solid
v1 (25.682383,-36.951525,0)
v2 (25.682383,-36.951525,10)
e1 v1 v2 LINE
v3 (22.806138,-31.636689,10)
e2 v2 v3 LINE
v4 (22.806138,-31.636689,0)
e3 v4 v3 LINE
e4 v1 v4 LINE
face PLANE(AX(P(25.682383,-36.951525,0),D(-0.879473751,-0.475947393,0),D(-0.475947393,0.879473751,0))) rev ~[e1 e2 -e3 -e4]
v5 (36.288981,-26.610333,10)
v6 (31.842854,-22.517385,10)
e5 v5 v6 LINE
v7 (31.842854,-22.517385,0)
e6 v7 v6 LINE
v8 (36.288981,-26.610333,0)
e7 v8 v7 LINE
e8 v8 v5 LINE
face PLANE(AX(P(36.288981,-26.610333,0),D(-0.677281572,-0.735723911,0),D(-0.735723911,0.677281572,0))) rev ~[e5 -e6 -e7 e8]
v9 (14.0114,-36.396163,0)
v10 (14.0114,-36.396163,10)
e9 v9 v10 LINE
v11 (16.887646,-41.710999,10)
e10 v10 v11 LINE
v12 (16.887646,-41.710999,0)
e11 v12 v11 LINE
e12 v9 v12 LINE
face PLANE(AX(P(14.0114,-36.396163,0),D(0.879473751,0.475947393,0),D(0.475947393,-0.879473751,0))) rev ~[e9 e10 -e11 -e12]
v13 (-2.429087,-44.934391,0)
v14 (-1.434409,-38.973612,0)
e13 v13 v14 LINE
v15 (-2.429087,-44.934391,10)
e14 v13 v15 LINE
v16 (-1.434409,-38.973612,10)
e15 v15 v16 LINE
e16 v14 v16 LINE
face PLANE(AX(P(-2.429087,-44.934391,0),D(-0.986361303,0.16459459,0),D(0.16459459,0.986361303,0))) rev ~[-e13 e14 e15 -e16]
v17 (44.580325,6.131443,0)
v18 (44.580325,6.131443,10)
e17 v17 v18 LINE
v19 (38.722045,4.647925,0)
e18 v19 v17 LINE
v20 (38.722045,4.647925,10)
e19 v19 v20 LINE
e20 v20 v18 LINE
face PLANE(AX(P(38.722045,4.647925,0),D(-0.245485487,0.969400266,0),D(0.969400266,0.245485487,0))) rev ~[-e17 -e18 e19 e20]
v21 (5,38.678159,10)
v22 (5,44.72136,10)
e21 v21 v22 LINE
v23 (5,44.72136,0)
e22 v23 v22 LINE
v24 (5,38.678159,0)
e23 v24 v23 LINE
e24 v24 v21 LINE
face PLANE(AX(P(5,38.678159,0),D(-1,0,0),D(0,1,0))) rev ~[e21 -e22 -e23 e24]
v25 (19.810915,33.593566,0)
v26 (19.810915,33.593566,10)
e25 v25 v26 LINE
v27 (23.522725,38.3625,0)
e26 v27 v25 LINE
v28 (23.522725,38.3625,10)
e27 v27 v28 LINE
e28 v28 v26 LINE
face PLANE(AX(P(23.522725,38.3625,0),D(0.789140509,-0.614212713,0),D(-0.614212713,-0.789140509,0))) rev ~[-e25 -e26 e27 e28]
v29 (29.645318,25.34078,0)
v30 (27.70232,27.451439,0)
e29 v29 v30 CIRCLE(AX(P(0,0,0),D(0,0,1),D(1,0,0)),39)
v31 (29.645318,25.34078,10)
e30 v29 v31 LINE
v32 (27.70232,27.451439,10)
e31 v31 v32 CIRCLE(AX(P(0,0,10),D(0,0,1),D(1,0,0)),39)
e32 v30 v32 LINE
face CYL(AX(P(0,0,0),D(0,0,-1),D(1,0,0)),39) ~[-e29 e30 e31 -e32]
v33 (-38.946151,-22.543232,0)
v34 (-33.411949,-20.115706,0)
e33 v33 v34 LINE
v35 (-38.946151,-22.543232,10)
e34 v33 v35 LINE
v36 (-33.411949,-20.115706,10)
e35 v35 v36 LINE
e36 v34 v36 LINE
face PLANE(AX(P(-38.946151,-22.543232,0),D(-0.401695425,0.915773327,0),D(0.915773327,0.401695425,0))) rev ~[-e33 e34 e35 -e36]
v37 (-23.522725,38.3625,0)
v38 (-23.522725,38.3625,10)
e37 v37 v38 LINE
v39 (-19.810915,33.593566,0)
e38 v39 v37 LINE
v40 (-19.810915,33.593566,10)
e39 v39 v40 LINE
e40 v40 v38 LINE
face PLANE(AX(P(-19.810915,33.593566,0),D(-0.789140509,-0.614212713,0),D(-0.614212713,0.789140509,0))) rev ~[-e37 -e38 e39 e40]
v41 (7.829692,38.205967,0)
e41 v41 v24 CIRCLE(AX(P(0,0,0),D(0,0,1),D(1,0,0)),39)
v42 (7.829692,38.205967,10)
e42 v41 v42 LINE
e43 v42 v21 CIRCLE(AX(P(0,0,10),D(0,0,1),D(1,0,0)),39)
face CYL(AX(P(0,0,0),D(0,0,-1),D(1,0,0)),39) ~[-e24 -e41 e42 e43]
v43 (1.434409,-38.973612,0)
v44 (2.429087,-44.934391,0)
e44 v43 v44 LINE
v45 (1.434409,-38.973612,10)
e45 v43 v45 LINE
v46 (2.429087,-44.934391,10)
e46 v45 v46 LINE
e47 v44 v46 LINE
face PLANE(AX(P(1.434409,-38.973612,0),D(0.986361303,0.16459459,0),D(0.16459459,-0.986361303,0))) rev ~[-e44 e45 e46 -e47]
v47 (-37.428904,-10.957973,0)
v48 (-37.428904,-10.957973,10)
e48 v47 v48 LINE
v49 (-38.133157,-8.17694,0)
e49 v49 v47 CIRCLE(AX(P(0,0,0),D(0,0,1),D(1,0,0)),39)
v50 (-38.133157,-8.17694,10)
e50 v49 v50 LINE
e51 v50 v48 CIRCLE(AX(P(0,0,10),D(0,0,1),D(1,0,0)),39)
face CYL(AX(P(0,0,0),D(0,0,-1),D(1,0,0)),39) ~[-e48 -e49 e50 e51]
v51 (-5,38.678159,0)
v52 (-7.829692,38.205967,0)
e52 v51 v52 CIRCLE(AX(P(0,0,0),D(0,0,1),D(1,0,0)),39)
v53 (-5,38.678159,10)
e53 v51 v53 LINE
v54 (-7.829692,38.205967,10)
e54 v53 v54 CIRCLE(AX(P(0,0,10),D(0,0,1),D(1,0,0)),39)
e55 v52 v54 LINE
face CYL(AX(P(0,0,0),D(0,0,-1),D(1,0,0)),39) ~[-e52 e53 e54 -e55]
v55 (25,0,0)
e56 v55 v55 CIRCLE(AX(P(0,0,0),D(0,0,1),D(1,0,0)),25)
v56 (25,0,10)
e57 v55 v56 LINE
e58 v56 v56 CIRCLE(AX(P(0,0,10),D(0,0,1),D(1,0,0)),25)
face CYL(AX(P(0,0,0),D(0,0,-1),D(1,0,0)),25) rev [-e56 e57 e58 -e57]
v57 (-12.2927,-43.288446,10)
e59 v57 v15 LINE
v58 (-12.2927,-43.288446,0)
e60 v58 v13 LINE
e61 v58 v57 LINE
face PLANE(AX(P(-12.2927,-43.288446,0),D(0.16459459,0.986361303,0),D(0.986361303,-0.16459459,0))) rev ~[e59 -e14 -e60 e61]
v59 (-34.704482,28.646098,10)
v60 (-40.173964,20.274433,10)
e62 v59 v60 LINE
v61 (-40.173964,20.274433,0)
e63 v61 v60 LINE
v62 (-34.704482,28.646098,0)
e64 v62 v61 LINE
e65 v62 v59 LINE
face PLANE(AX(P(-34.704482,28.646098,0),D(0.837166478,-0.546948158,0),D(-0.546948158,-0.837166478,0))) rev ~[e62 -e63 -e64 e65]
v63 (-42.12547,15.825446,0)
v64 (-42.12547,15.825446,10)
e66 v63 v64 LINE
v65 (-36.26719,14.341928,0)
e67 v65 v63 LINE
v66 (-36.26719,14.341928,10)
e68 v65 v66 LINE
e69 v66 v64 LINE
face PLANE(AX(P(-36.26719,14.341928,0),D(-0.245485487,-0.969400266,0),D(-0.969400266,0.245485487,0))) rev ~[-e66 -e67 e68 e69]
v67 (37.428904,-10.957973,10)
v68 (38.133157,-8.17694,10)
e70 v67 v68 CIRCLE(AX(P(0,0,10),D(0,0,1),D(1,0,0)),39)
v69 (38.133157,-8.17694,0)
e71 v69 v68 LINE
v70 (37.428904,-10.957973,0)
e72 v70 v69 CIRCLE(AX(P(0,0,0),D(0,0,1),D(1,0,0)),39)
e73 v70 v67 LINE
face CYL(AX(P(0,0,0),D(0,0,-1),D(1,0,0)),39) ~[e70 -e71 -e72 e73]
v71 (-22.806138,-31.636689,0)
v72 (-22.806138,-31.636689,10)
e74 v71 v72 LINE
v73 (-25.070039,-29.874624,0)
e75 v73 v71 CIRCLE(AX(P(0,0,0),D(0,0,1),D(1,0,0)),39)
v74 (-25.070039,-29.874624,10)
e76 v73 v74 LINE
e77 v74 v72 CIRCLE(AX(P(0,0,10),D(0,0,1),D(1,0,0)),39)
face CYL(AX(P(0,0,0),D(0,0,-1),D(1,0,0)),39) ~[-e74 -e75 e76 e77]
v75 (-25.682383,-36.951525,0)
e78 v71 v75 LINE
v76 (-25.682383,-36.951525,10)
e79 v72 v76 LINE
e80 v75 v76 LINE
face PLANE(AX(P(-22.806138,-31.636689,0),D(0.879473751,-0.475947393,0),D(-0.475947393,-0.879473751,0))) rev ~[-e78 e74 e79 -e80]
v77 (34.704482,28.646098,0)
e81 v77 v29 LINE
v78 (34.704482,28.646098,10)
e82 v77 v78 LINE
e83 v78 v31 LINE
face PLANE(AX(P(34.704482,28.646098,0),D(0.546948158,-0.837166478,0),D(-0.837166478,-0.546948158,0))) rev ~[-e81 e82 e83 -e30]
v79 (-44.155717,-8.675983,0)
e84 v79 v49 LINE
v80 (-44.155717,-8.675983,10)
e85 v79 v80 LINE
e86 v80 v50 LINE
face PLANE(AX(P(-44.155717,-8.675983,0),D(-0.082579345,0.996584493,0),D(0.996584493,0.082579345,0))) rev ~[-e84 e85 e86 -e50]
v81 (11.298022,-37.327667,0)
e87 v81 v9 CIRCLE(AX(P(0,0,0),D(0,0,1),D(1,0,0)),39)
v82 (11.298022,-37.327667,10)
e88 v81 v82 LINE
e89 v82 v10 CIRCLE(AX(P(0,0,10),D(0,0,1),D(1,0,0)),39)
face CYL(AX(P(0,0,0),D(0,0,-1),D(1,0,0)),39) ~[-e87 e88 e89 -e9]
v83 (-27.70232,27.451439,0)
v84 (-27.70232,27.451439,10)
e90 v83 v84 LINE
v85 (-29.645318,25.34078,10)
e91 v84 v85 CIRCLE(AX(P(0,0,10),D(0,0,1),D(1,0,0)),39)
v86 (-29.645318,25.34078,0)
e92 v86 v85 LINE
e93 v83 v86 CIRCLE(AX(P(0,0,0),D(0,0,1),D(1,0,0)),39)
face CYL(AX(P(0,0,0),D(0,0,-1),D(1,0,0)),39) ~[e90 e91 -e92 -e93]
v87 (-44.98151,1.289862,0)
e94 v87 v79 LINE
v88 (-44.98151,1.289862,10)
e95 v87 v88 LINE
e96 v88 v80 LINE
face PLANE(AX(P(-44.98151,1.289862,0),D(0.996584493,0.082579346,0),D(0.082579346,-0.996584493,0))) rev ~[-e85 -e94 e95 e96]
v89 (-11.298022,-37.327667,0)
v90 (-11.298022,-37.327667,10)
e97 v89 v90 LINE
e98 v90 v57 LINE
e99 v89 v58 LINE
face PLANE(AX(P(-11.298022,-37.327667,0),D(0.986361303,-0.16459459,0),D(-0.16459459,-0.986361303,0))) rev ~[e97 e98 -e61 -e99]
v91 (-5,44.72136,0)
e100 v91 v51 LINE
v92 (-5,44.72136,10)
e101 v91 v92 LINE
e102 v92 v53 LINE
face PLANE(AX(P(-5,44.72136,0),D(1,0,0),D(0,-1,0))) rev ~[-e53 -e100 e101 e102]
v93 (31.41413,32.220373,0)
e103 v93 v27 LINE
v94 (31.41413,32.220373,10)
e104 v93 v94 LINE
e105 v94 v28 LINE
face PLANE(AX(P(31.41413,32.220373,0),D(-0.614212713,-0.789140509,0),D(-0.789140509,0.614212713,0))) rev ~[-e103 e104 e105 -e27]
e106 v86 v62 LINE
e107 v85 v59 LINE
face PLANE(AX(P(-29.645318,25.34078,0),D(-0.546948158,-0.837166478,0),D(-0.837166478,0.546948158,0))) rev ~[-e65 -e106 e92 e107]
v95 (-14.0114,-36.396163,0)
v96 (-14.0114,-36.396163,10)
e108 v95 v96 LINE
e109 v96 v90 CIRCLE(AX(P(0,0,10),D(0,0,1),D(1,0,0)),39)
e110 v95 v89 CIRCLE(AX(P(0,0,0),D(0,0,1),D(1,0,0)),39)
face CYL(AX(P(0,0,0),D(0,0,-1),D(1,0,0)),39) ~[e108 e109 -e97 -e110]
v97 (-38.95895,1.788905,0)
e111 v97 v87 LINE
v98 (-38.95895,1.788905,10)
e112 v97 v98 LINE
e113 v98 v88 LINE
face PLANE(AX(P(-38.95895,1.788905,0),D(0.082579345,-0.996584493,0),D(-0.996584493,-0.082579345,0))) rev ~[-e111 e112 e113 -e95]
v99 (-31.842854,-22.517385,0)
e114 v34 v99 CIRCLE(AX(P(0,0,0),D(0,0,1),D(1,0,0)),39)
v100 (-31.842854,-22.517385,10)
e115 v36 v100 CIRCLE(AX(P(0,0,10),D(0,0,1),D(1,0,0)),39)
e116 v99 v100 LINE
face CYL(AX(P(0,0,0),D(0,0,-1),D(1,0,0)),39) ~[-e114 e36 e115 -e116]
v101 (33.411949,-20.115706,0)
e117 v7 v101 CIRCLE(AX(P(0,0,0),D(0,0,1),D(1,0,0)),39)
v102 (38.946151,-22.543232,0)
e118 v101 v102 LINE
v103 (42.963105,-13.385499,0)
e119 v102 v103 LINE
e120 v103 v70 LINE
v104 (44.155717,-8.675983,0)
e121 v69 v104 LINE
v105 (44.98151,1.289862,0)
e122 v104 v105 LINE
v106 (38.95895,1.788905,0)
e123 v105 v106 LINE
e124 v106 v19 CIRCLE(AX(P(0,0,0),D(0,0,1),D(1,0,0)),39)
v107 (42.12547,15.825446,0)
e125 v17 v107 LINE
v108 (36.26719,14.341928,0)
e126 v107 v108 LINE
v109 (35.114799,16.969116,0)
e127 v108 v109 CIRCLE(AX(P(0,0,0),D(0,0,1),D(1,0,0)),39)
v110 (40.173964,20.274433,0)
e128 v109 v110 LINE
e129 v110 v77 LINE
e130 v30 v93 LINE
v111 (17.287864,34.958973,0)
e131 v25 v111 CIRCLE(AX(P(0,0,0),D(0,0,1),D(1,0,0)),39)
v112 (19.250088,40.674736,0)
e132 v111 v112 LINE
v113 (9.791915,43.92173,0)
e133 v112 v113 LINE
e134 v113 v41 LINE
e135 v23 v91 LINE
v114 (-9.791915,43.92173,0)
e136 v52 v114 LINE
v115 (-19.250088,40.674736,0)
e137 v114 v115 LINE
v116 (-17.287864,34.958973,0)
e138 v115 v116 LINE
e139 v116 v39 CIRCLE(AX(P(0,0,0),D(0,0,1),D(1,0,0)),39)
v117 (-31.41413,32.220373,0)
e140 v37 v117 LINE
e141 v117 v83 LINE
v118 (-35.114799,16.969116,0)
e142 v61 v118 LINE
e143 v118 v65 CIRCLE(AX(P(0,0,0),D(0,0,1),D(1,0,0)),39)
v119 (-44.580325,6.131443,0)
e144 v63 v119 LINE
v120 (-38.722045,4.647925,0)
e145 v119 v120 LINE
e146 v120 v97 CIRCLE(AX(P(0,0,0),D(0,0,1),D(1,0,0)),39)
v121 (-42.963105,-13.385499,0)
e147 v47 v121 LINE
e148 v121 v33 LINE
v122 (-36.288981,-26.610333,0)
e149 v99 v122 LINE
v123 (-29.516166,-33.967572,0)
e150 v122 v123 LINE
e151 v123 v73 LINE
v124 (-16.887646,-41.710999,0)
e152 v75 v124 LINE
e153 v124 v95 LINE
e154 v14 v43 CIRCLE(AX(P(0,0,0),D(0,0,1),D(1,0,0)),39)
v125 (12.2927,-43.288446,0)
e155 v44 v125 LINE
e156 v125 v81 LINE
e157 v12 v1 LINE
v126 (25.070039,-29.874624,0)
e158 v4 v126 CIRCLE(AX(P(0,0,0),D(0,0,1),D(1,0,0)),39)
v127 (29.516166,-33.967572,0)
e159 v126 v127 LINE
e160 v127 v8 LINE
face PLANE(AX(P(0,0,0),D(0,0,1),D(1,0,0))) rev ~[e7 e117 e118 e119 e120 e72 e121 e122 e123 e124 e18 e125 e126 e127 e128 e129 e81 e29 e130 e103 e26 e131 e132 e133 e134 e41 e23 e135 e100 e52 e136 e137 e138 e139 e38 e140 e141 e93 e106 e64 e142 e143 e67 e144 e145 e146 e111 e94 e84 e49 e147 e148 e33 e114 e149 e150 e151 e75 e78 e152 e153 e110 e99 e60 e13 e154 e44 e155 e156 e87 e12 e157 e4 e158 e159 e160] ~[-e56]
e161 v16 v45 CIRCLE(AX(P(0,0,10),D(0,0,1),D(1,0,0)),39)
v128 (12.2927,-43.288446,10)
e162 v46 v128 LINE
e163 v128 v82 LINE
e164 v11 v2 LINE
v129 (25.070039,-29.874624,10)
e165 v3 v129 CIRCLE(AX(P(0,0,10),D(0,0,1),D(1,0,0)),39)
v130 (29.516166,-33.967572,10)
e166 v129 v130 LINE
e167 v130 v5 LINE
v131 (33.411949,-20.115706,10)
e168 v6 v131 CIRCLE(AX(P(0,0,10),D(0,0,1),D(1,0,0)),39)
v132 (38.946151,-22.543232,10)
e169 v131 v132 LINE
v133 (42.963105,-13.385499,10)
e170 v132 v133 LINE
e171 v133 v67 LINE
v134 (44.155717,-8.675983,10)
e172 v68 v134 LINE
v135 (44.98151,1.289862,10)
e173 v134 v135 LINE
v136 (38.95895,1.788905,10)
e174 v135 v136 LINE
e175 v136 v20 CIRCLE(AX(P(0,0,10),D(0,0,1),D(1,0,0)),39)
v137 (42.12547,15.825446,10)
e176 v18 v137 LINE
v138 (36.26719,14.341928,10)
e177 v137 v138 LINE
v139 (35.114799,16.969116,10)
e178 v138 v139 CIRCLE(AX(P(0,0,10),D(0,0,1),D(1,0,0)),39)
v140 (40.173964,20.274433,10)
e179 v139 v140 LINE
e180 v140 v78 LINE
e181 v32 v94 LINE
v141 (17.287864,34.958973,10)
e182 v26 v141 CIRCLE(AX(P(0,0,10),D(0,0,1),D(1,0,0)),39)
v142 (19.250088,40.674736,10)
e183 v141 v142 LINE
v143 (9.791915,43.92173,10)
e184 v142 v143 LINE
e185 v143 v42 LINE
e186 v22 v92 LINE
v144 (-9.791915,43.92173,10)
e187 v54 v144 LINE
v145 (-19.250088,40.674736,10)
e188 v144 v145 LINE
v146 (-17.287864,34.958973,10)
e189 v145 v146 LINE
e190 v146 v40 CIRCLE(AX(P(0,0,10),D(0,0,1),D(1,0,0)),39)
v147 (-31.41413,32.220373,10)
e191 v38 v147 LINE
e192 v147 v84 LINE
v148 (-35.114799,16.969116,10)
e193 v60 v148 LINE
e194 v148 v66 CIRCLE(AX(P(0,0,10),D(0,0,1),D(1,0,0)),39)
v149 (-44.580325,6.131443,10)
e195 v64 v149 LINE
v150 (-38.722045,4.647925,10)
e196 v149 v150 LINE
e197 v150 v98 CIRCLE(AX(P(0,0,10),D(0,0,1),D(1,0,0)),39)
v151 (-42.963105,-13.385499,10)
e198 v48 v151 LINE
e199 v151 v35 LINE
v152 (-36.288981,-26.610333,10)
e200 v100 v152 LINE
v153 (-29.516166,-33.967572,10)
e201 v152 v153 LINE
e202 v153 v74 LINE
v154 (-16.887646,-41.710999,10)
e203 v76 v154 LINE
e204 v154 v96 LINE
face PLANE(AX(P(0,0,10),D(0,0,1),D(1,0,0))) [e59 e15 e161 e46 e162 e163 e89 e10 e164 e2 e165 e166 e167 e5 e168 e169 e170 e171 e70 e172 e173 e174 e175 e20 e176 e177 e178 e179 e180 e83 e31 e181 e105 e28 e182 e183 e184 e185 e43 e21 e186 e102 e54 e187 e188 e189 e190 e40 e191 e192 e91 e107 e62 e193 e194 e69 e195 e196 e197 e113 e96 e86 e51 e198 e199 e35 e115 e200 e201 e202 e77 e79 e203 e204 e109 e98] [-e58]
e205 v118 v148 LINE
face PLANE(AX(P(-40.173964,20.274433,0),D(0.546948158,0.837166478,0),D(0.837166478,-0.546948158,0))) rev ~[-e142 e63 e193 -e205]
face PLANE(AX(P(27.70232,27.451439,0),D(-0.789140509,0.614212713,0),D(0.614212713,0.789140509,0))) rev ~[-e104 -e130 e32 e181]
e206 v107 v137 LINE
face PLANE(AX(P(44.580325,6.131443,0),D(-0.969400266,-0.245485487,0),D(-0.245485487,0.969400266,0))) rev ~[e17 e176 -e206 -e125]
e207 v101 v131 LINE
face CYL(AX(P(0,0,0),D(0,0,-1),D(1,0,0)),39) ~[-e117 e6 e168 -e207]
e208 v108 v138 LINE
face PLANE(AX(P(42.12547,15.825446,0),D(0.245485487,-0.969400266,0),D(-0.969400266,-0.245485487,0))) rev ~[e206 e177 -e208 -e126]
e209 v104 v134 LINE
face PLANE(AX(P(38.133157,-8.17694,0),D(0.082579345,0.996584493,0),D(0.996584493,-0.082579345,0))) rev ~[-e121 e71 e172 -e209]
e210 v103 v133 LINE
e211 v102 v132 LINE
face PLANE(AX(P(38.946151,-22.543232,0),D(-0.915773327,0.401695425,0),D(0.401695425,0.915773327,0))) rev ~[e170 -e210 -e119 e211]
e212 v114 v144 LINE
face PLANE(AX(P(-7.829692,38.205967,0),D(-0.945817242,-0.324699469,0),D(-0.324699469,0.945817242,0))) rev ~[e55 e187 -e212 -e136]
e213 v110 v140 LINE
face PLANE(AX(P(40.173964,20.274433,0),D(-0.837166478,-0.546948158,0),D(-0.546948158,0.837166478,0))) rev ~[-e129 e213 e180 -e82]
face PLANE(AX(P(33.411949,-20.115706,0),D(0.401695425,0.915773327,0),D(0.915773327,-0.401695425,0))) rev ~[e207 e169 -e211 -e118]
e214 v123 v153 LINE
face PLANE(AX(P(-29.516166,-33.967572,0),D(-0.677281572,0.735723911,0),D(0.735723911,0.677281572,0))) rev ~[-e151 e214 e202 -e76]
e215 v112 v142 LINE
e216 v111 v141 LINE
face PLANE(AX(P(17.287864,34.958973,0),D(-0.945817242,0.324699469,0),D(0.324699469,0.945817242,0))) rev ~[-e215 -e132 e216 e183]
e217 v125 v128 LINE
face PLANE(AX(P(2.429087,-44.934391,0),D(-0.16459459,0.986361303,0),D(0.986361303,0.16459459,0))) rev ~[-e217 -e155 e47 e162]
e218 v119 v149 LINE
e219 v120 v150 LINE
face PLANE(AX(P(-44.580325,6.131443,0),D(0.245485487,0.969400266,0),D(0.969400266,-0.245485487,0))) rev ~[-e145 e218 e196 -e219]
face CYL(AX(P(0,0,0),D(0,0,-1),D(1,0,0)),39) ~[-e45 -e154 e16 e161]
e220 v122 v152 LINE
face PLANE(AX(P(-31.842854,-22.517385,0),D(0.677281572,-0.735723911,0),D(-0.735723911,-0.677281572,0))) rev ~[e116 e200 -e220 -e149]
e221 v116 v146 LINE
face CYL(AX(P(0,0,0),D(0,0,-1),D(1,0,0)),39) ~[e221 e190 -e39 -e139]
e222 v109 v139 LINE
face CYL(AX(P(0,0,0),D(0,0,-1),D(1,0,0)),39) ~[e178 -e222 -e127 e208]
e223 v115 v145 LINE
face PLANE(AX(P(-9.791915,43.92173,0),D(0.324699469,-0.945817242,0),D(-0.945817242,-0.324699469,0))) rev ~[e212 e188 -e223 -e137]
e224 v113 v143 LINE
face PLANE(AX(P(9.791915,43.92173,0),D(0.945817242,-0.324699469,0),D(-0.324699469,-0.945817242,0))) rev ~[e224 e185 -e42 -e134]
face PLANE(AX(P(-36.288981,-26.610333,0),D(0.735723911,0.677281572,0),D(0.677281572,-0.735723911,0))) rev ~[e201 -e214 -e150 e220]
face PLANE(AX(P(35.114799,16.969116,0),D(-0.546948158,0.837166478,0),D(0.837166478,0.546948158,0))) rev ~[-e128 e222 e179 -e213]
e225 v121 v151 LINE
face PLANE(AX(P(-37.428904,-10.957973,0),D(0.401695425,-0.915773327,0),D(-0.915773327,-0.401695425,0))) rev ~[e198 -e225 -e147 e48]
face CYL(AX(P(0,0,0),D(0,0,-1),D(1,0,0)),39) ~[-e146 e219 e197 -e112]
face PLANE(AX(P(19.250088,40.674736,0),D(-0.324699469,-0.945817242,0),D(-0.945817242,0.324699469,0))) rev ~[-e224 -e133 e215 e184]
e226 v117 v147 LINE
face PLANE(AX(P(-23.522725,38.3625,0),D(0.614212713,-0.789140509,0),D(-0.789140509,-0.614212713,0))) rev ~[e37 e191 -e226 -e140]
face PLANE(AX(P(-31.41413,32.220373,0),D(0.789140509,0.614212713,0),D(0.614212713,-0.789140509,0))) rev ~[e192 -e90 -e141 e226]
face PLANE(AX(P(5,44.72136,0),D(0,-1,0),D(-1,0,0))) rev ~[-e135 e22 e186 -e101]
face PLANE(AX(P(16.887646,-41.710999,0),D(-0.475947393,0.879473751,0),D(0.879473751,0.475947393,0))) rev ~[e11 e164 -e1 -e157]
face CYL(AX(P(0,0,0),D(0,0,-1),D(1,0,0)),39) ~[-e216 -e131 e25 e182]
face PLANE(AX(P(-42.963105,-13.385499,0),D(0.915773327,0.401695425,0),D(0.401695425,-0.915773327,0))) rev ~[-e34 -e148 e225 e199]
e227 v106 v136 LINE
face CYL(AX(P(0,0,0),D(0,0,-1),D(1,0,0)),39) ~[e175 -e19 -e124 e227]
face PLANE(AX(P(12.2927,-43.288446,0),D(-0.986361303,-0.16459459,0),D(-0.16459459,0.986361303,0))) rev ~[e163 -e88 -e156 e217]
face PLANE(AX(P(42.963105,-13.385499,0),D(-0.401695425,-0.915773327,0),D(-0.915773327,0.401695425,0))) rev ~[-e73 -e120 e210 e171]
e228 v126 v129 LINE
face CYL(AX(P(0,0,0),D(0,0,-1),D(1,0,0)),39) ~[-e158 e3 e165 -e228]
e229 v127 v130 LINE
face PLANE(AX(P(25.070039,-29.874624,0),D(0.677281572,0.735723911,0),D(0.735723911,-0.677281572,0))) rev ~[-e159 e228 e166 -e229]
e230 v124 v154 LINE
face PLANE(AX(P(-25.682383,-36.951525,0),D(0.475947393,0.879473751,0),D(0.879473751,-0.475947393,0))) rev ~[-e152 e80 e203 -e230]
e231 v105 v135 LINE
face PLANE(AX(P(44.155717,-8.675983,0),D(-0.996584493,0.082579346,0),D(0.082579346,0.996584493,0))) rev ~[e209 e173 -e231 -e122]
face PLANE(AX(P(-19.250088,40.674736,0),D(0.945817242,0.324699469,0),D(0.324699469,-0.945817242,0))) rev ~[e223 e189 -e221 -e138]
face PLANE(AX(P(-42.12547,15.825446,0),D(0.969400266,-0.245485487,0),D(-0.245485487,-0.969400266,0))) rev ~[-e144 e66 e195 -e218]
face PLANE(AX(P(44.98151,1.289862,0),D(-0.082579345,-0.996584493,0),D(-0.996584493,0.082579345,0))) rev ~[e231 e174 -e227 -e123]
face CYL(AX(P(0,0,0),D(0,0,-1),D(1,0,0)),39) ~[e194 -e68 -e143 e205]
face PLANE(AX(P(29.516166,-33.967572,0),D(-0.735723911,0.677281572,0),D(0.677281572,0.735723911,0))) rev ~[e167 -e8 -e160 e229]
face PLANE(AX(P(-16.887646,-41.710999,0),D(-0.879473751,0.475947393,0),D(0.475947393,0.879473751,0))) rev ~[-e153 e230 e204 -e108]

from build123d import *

# Parameters (mm, degrees)
SKETCH1_R           = 39
SKETCH1_R_2         = 25
BOSS_EXTRUDE1_DEPTH = 10


with BuildPart() as part:
    # Sketch1 → Boss-Extrude1 (new body)
    # profile 1 of 20: a face of its own
    with BuildSketch(Plane.XY):
        Circle(SKETCH1_R)
        Circle(SKETCH1_R_2, mode=Mode.SUBTRACT)
    # profile 2 of 20: a face of its own
    with BuildSketch(Plane.XY):
        with BuildLine():
            ThreePointArc((-38.722045261, 4.647925426), (-37.806610372, 9.573933998), (-36.26719039, 14.341928085))
            Line((-36.26719039, 14.341928085), (-42.125470405, 15.825446064))
            Line((-42.125470405, 15.825446064), (-44.580325277, 6.131443405))
            Line((-44.580325277, 6.131443405), (-38.722045261, 4.647925426))
        make_face()
    # profile 3 of 20: a face of its own
    with BuildSketch(Plane.XY):
        with BuildLine():
            ThreePointArc((-35.114799123, 16.969115549), (-32.649492652, 21.330978167), (-29.645317542, 25.340780332))
            Line((-29.645317542, 25.340780332), (-34.704482287, 28.646097626))
            Line((-34.704482287, 28.646097626), (-40.173963868, 20.274432843))
            Line((-40.173963868, 20.274432843), (-35.114799123, 16.969115549))
        make_face()
    # profile 4 of 20: a face of its own
    with BuildSketch(Plane.XY):
        with BuildLine():
            ThreePointArc((-27.702319638, 27.451438699), (-23.954295795, 30.776479866), (-19.810914544, 33.593565826))
            Line((-19.810914544, 33.593565826), (-23.522725017, 38.36250002))
            Line((-23.522725017, 38.36250002), (-31.414130111, 32.220372893))
            Line((-31.414130111, 32.220372893), (-27.702319638, 27.451438699))
        make_face()
    # profile 5 of 20: a face of its own
    with BuildSketch(Plane.XY):
        with BuildLine():
            ThreePointArc((-17.287863974, 34.958972514), (-12.663279299, 36.886872426), (-7.829691557, 38.205967206))
            Line((-7.829691557, 38.205967206), (-9.791915499, 43.921730281))
            Line((-9.791915499, 43.921730281), (-19.250087916, 40.674735589))
            Line((-19.250087916, 40.674735589), (-17.287863974, 34.958972514))
        make_face()
    # profile 6 of 20: a face of its own
    with BuildSketch(Plane.XY):
        with BuildLine():
            Line((9.791915499, 43.921730281), (7.829691557, 38.205967206))
            ThreePointArc((7.829691557, 38.205967206), (12.663279299, 36.886872426), (17.287863974, 34.958972514))
            Line((17.287863974, 34.958972514), (19.250087916, 40.674735589))
            Line((19.250087916, 40.674735589), (9.791915499, 43.921730281))
        make_face()
    # profile 7 of 20: a face of its own
    with BuildSketch(Plane.XY):
        with BuildLine():
            Line((5, 44.72135955), (-5, 44.72135955))
            Line((-5, 44.72135955), (-5, 38.678159212))
            ThreePointArc((-5, 38.678159212), (0, 39), (5, 38.678159212))
            Line((5, 38.678159212), (5, 44.72135955))
        make_face()
    # profile 8 of 20: a face of its own
    with BuildSketch(Plane.XY):
        with BuildLine():
            Line((23.522725017, 38.36250002), (19.810914544, 33.593565826))
            ThreePointArc((19.810914544, 33.593565826), (23.954295795, 30.776479866), (27.702319638, 27.451438699))
            Line((27.702319638, 27.451438699), (31.414130111, 32.220372893))
            Line((31.414130111, 32.220372893), (23.522725017, 38.36250002))
        make_face()
    # profile 9 of 20: a face of its own
    with BuildSketch(Plane.XY):
        with BuildLine():
            Line((34.704482287, 28.646097626), (29.645317542, 25.340780332))
            ThreePointArc((29.645317542, 25.340780332), (32.649492652, 21.330978167), (35.114799123, 16.969115549))
            Line((35.114799123, 16.969115549), (40.173963868, 20.274432843))
            Line((40.173963868, 20.274432843), (34.704482287, 28.646097626))
        make_face()
    # profile 10 of 20: a face of its own
    with BuildSketch(Plane.XY):
        with BuildLine():
            Line((42.125470405, 15.825446064), (36.26719039, 14.341928085))
            ThreePointArc((36.26719039, 14.341928085), (37.806610372, 9.573933998), (38.722045261, 4.647925426))
            Line((38.722045261, 4.647925426), (44.580325277, 6.131443405))
            Line((44.580325277, 6.131443405), (42.125470405, 15.825446064))
        make_face()
    # profile 11 of 20: a face of its own
    with BuildSketch(Plane.XY):
        with BuildLine():
            Line((44.981510161, 1.289861865), (38.958950416, 1.788905393))
            ThreePointArc((38.958950416, 1.788905393), (38.989736253, 0.894688154), (39, 0))
            ThreePointArc((39, 0), (38.782683774, -4.111379241), (38.133156961, -8.176939537))
            Line((38.133156961, -8.176939537), (44.155716706, -8.675983065))
            Line((44.155716706, -8.675983065), (44.981510161, 1.289861865))
        make_face()
    # profile 12 of 20: a face of its own
    with BuildSketch(Plane.XY):
        with BuildLine():
            Line((42.963105331, -13.385498882), (37.428903653, -10.957972956))
            ThreePointArc((37.428903653, -10.957972956), (35.71515974, -15.666121561), (33.411949407, -20.115706223))
            Line((33.411949407, -20.115706223), (38.946151084, -22.543232149))
            Line((38.946151084, -22.543232149), (42.963105331, -13.385498882))
        make_face()
    # profile 13 of 20: a face of its own
    with BuildSketch(Plane.XY):
        with BuildLine():
            Line((36.288981397, -26.610333128), (31.842854411, -22.517384905))
            ThreePointArc((31.842854411, -22.517384905), (28.693232516, -26.413981293), (25.070038695, -29.874624012))
            Line((25.070038695, -29.874624012), (29.516165681, -33.967572235))
            Line((29.516165681, -33.967572235), (36.288981397, -26.610333128))
        make_face()
    # profile 14 of 20: a face of its own
    with BuildSketch(Plane.XY):
        with BuildLine():
            ThreePointArc((-38.133156961, -8.176939537), (-38.866795227, -3.220594473), (-38.958950416, 1.788905393))
            Line((-38.958950416, 1.788905393), (-44.981510161, 1.289861865))
            Line((-44.981510161, 1.289861865), (-44.155716706, -8.675983065))
            Line((-44.155716706, -8.675983065), (-38.133156961, -8.176939537))
        make_face()
    # profile 15 of 20: a face of its own
    with BuildSketch(Plane.XY):
        with BuildLine():
            ThreePointArc((-33.411949407, -20.115706223), (-35.71515974, -15.666121561), (-37.428903653, -10.957972956))
            Line((-37.428903653, -10.957972956), (-42.963105331, -13.385498882))
            Line((-42.963105331, -13.385498882), (-38.946151084, -22.543232149))
            Line((-38.946151084, -22.543232149), (-33.411949407, -20.115706223))
        make_face()
    # profile 16 of 20: a face of its own
    with BuildSketch(Plane.XY):
        with BuildLine():
            ThreePointArc((-25.070038695, -29.874624012), (-28.693232516, -26.413981293), (-31.842854411, -22.517384905))
            Line((-31.842854411, -22.517384905), (-36.288981397, -26.610333128))
            Line((-36.288981397, -26.610333128), (-29.516165681, -33.967572235))
            Line((-29.516165681, -33.967572235), (-25.070038695, -29.874624012))
        make_face()
    # profile 17 of 20: a face of its own
    with BuildSketch(Plane.XY):
        with BuildLine():
            ThreePointArc((-14.011400288, -36.396162737), (-18.561948328, -34.299476297), (-22.8061378, -31.636688806))
            Line((-22.8061378, -31.636688806), (-25.682383247, -36.951524877))
            Line((-25.682383247, -36.951524877), (-16.887645735, -41.710998808))
            Line((-16.887645735, -41.710998808), (-14.011400288, -36.396162737))
        make_face()
    # profile 18 of 20: a face of its own
    with BuildSketch(Plane.XY):
        with BuildLine():
            ThreePointArc((-1.434409251, -38.973612485), (-6.419189021, -38.468090833), (-11.298022285, -37.327666582))
            Line((-11.298022285, -37.327666582), (-12.292700369, -43.288445544))
            Line((-12.292700369, -43.288445544), (-2.429087335, -44.934391447))
            Line((-2.429087335, -44.934391447), (-1.434409251, -38.973612485))
        make_face()
    # profile 19 of 20: a face of its own
    with BuildSketch(Plane.XY):
        with BuildLine():
            Line((12.292700369, -43.288445544), (11.298022285, -37.327666582))
            ThreePointArc((11.298022285, -37.327666582), (6.419189021, -38.468090833), (1.434409251, -38.973612485))
            Line((1.434409251, -38.973612485), (2.429087335, -44.934391447))
            Line((2.429087335, -44.934391447), (12.292700369, -43.288445544))
        make_face()
    # profile 20 of 20: a face of its own
    with BuildSketch(Plane.XY):
        with BuildLine():
            Line((25.682383247, -36.951524877), (22.8061378, -31.636688806))
            ThreePointArc((22.8061378, -31.636688806), (18.561948328, -34.299476297), (14.011400288, -36.396162737))
            Line((14.011400288, -36.396162737), (16.887645735, -41.710998808))
            Line((16.887645735, -41.710998808), (25.682383247, -36.951524877))
        make_face()
    extrude(amount=BOSS_EXTRUDE1_DEPTH)


solid = part.part
